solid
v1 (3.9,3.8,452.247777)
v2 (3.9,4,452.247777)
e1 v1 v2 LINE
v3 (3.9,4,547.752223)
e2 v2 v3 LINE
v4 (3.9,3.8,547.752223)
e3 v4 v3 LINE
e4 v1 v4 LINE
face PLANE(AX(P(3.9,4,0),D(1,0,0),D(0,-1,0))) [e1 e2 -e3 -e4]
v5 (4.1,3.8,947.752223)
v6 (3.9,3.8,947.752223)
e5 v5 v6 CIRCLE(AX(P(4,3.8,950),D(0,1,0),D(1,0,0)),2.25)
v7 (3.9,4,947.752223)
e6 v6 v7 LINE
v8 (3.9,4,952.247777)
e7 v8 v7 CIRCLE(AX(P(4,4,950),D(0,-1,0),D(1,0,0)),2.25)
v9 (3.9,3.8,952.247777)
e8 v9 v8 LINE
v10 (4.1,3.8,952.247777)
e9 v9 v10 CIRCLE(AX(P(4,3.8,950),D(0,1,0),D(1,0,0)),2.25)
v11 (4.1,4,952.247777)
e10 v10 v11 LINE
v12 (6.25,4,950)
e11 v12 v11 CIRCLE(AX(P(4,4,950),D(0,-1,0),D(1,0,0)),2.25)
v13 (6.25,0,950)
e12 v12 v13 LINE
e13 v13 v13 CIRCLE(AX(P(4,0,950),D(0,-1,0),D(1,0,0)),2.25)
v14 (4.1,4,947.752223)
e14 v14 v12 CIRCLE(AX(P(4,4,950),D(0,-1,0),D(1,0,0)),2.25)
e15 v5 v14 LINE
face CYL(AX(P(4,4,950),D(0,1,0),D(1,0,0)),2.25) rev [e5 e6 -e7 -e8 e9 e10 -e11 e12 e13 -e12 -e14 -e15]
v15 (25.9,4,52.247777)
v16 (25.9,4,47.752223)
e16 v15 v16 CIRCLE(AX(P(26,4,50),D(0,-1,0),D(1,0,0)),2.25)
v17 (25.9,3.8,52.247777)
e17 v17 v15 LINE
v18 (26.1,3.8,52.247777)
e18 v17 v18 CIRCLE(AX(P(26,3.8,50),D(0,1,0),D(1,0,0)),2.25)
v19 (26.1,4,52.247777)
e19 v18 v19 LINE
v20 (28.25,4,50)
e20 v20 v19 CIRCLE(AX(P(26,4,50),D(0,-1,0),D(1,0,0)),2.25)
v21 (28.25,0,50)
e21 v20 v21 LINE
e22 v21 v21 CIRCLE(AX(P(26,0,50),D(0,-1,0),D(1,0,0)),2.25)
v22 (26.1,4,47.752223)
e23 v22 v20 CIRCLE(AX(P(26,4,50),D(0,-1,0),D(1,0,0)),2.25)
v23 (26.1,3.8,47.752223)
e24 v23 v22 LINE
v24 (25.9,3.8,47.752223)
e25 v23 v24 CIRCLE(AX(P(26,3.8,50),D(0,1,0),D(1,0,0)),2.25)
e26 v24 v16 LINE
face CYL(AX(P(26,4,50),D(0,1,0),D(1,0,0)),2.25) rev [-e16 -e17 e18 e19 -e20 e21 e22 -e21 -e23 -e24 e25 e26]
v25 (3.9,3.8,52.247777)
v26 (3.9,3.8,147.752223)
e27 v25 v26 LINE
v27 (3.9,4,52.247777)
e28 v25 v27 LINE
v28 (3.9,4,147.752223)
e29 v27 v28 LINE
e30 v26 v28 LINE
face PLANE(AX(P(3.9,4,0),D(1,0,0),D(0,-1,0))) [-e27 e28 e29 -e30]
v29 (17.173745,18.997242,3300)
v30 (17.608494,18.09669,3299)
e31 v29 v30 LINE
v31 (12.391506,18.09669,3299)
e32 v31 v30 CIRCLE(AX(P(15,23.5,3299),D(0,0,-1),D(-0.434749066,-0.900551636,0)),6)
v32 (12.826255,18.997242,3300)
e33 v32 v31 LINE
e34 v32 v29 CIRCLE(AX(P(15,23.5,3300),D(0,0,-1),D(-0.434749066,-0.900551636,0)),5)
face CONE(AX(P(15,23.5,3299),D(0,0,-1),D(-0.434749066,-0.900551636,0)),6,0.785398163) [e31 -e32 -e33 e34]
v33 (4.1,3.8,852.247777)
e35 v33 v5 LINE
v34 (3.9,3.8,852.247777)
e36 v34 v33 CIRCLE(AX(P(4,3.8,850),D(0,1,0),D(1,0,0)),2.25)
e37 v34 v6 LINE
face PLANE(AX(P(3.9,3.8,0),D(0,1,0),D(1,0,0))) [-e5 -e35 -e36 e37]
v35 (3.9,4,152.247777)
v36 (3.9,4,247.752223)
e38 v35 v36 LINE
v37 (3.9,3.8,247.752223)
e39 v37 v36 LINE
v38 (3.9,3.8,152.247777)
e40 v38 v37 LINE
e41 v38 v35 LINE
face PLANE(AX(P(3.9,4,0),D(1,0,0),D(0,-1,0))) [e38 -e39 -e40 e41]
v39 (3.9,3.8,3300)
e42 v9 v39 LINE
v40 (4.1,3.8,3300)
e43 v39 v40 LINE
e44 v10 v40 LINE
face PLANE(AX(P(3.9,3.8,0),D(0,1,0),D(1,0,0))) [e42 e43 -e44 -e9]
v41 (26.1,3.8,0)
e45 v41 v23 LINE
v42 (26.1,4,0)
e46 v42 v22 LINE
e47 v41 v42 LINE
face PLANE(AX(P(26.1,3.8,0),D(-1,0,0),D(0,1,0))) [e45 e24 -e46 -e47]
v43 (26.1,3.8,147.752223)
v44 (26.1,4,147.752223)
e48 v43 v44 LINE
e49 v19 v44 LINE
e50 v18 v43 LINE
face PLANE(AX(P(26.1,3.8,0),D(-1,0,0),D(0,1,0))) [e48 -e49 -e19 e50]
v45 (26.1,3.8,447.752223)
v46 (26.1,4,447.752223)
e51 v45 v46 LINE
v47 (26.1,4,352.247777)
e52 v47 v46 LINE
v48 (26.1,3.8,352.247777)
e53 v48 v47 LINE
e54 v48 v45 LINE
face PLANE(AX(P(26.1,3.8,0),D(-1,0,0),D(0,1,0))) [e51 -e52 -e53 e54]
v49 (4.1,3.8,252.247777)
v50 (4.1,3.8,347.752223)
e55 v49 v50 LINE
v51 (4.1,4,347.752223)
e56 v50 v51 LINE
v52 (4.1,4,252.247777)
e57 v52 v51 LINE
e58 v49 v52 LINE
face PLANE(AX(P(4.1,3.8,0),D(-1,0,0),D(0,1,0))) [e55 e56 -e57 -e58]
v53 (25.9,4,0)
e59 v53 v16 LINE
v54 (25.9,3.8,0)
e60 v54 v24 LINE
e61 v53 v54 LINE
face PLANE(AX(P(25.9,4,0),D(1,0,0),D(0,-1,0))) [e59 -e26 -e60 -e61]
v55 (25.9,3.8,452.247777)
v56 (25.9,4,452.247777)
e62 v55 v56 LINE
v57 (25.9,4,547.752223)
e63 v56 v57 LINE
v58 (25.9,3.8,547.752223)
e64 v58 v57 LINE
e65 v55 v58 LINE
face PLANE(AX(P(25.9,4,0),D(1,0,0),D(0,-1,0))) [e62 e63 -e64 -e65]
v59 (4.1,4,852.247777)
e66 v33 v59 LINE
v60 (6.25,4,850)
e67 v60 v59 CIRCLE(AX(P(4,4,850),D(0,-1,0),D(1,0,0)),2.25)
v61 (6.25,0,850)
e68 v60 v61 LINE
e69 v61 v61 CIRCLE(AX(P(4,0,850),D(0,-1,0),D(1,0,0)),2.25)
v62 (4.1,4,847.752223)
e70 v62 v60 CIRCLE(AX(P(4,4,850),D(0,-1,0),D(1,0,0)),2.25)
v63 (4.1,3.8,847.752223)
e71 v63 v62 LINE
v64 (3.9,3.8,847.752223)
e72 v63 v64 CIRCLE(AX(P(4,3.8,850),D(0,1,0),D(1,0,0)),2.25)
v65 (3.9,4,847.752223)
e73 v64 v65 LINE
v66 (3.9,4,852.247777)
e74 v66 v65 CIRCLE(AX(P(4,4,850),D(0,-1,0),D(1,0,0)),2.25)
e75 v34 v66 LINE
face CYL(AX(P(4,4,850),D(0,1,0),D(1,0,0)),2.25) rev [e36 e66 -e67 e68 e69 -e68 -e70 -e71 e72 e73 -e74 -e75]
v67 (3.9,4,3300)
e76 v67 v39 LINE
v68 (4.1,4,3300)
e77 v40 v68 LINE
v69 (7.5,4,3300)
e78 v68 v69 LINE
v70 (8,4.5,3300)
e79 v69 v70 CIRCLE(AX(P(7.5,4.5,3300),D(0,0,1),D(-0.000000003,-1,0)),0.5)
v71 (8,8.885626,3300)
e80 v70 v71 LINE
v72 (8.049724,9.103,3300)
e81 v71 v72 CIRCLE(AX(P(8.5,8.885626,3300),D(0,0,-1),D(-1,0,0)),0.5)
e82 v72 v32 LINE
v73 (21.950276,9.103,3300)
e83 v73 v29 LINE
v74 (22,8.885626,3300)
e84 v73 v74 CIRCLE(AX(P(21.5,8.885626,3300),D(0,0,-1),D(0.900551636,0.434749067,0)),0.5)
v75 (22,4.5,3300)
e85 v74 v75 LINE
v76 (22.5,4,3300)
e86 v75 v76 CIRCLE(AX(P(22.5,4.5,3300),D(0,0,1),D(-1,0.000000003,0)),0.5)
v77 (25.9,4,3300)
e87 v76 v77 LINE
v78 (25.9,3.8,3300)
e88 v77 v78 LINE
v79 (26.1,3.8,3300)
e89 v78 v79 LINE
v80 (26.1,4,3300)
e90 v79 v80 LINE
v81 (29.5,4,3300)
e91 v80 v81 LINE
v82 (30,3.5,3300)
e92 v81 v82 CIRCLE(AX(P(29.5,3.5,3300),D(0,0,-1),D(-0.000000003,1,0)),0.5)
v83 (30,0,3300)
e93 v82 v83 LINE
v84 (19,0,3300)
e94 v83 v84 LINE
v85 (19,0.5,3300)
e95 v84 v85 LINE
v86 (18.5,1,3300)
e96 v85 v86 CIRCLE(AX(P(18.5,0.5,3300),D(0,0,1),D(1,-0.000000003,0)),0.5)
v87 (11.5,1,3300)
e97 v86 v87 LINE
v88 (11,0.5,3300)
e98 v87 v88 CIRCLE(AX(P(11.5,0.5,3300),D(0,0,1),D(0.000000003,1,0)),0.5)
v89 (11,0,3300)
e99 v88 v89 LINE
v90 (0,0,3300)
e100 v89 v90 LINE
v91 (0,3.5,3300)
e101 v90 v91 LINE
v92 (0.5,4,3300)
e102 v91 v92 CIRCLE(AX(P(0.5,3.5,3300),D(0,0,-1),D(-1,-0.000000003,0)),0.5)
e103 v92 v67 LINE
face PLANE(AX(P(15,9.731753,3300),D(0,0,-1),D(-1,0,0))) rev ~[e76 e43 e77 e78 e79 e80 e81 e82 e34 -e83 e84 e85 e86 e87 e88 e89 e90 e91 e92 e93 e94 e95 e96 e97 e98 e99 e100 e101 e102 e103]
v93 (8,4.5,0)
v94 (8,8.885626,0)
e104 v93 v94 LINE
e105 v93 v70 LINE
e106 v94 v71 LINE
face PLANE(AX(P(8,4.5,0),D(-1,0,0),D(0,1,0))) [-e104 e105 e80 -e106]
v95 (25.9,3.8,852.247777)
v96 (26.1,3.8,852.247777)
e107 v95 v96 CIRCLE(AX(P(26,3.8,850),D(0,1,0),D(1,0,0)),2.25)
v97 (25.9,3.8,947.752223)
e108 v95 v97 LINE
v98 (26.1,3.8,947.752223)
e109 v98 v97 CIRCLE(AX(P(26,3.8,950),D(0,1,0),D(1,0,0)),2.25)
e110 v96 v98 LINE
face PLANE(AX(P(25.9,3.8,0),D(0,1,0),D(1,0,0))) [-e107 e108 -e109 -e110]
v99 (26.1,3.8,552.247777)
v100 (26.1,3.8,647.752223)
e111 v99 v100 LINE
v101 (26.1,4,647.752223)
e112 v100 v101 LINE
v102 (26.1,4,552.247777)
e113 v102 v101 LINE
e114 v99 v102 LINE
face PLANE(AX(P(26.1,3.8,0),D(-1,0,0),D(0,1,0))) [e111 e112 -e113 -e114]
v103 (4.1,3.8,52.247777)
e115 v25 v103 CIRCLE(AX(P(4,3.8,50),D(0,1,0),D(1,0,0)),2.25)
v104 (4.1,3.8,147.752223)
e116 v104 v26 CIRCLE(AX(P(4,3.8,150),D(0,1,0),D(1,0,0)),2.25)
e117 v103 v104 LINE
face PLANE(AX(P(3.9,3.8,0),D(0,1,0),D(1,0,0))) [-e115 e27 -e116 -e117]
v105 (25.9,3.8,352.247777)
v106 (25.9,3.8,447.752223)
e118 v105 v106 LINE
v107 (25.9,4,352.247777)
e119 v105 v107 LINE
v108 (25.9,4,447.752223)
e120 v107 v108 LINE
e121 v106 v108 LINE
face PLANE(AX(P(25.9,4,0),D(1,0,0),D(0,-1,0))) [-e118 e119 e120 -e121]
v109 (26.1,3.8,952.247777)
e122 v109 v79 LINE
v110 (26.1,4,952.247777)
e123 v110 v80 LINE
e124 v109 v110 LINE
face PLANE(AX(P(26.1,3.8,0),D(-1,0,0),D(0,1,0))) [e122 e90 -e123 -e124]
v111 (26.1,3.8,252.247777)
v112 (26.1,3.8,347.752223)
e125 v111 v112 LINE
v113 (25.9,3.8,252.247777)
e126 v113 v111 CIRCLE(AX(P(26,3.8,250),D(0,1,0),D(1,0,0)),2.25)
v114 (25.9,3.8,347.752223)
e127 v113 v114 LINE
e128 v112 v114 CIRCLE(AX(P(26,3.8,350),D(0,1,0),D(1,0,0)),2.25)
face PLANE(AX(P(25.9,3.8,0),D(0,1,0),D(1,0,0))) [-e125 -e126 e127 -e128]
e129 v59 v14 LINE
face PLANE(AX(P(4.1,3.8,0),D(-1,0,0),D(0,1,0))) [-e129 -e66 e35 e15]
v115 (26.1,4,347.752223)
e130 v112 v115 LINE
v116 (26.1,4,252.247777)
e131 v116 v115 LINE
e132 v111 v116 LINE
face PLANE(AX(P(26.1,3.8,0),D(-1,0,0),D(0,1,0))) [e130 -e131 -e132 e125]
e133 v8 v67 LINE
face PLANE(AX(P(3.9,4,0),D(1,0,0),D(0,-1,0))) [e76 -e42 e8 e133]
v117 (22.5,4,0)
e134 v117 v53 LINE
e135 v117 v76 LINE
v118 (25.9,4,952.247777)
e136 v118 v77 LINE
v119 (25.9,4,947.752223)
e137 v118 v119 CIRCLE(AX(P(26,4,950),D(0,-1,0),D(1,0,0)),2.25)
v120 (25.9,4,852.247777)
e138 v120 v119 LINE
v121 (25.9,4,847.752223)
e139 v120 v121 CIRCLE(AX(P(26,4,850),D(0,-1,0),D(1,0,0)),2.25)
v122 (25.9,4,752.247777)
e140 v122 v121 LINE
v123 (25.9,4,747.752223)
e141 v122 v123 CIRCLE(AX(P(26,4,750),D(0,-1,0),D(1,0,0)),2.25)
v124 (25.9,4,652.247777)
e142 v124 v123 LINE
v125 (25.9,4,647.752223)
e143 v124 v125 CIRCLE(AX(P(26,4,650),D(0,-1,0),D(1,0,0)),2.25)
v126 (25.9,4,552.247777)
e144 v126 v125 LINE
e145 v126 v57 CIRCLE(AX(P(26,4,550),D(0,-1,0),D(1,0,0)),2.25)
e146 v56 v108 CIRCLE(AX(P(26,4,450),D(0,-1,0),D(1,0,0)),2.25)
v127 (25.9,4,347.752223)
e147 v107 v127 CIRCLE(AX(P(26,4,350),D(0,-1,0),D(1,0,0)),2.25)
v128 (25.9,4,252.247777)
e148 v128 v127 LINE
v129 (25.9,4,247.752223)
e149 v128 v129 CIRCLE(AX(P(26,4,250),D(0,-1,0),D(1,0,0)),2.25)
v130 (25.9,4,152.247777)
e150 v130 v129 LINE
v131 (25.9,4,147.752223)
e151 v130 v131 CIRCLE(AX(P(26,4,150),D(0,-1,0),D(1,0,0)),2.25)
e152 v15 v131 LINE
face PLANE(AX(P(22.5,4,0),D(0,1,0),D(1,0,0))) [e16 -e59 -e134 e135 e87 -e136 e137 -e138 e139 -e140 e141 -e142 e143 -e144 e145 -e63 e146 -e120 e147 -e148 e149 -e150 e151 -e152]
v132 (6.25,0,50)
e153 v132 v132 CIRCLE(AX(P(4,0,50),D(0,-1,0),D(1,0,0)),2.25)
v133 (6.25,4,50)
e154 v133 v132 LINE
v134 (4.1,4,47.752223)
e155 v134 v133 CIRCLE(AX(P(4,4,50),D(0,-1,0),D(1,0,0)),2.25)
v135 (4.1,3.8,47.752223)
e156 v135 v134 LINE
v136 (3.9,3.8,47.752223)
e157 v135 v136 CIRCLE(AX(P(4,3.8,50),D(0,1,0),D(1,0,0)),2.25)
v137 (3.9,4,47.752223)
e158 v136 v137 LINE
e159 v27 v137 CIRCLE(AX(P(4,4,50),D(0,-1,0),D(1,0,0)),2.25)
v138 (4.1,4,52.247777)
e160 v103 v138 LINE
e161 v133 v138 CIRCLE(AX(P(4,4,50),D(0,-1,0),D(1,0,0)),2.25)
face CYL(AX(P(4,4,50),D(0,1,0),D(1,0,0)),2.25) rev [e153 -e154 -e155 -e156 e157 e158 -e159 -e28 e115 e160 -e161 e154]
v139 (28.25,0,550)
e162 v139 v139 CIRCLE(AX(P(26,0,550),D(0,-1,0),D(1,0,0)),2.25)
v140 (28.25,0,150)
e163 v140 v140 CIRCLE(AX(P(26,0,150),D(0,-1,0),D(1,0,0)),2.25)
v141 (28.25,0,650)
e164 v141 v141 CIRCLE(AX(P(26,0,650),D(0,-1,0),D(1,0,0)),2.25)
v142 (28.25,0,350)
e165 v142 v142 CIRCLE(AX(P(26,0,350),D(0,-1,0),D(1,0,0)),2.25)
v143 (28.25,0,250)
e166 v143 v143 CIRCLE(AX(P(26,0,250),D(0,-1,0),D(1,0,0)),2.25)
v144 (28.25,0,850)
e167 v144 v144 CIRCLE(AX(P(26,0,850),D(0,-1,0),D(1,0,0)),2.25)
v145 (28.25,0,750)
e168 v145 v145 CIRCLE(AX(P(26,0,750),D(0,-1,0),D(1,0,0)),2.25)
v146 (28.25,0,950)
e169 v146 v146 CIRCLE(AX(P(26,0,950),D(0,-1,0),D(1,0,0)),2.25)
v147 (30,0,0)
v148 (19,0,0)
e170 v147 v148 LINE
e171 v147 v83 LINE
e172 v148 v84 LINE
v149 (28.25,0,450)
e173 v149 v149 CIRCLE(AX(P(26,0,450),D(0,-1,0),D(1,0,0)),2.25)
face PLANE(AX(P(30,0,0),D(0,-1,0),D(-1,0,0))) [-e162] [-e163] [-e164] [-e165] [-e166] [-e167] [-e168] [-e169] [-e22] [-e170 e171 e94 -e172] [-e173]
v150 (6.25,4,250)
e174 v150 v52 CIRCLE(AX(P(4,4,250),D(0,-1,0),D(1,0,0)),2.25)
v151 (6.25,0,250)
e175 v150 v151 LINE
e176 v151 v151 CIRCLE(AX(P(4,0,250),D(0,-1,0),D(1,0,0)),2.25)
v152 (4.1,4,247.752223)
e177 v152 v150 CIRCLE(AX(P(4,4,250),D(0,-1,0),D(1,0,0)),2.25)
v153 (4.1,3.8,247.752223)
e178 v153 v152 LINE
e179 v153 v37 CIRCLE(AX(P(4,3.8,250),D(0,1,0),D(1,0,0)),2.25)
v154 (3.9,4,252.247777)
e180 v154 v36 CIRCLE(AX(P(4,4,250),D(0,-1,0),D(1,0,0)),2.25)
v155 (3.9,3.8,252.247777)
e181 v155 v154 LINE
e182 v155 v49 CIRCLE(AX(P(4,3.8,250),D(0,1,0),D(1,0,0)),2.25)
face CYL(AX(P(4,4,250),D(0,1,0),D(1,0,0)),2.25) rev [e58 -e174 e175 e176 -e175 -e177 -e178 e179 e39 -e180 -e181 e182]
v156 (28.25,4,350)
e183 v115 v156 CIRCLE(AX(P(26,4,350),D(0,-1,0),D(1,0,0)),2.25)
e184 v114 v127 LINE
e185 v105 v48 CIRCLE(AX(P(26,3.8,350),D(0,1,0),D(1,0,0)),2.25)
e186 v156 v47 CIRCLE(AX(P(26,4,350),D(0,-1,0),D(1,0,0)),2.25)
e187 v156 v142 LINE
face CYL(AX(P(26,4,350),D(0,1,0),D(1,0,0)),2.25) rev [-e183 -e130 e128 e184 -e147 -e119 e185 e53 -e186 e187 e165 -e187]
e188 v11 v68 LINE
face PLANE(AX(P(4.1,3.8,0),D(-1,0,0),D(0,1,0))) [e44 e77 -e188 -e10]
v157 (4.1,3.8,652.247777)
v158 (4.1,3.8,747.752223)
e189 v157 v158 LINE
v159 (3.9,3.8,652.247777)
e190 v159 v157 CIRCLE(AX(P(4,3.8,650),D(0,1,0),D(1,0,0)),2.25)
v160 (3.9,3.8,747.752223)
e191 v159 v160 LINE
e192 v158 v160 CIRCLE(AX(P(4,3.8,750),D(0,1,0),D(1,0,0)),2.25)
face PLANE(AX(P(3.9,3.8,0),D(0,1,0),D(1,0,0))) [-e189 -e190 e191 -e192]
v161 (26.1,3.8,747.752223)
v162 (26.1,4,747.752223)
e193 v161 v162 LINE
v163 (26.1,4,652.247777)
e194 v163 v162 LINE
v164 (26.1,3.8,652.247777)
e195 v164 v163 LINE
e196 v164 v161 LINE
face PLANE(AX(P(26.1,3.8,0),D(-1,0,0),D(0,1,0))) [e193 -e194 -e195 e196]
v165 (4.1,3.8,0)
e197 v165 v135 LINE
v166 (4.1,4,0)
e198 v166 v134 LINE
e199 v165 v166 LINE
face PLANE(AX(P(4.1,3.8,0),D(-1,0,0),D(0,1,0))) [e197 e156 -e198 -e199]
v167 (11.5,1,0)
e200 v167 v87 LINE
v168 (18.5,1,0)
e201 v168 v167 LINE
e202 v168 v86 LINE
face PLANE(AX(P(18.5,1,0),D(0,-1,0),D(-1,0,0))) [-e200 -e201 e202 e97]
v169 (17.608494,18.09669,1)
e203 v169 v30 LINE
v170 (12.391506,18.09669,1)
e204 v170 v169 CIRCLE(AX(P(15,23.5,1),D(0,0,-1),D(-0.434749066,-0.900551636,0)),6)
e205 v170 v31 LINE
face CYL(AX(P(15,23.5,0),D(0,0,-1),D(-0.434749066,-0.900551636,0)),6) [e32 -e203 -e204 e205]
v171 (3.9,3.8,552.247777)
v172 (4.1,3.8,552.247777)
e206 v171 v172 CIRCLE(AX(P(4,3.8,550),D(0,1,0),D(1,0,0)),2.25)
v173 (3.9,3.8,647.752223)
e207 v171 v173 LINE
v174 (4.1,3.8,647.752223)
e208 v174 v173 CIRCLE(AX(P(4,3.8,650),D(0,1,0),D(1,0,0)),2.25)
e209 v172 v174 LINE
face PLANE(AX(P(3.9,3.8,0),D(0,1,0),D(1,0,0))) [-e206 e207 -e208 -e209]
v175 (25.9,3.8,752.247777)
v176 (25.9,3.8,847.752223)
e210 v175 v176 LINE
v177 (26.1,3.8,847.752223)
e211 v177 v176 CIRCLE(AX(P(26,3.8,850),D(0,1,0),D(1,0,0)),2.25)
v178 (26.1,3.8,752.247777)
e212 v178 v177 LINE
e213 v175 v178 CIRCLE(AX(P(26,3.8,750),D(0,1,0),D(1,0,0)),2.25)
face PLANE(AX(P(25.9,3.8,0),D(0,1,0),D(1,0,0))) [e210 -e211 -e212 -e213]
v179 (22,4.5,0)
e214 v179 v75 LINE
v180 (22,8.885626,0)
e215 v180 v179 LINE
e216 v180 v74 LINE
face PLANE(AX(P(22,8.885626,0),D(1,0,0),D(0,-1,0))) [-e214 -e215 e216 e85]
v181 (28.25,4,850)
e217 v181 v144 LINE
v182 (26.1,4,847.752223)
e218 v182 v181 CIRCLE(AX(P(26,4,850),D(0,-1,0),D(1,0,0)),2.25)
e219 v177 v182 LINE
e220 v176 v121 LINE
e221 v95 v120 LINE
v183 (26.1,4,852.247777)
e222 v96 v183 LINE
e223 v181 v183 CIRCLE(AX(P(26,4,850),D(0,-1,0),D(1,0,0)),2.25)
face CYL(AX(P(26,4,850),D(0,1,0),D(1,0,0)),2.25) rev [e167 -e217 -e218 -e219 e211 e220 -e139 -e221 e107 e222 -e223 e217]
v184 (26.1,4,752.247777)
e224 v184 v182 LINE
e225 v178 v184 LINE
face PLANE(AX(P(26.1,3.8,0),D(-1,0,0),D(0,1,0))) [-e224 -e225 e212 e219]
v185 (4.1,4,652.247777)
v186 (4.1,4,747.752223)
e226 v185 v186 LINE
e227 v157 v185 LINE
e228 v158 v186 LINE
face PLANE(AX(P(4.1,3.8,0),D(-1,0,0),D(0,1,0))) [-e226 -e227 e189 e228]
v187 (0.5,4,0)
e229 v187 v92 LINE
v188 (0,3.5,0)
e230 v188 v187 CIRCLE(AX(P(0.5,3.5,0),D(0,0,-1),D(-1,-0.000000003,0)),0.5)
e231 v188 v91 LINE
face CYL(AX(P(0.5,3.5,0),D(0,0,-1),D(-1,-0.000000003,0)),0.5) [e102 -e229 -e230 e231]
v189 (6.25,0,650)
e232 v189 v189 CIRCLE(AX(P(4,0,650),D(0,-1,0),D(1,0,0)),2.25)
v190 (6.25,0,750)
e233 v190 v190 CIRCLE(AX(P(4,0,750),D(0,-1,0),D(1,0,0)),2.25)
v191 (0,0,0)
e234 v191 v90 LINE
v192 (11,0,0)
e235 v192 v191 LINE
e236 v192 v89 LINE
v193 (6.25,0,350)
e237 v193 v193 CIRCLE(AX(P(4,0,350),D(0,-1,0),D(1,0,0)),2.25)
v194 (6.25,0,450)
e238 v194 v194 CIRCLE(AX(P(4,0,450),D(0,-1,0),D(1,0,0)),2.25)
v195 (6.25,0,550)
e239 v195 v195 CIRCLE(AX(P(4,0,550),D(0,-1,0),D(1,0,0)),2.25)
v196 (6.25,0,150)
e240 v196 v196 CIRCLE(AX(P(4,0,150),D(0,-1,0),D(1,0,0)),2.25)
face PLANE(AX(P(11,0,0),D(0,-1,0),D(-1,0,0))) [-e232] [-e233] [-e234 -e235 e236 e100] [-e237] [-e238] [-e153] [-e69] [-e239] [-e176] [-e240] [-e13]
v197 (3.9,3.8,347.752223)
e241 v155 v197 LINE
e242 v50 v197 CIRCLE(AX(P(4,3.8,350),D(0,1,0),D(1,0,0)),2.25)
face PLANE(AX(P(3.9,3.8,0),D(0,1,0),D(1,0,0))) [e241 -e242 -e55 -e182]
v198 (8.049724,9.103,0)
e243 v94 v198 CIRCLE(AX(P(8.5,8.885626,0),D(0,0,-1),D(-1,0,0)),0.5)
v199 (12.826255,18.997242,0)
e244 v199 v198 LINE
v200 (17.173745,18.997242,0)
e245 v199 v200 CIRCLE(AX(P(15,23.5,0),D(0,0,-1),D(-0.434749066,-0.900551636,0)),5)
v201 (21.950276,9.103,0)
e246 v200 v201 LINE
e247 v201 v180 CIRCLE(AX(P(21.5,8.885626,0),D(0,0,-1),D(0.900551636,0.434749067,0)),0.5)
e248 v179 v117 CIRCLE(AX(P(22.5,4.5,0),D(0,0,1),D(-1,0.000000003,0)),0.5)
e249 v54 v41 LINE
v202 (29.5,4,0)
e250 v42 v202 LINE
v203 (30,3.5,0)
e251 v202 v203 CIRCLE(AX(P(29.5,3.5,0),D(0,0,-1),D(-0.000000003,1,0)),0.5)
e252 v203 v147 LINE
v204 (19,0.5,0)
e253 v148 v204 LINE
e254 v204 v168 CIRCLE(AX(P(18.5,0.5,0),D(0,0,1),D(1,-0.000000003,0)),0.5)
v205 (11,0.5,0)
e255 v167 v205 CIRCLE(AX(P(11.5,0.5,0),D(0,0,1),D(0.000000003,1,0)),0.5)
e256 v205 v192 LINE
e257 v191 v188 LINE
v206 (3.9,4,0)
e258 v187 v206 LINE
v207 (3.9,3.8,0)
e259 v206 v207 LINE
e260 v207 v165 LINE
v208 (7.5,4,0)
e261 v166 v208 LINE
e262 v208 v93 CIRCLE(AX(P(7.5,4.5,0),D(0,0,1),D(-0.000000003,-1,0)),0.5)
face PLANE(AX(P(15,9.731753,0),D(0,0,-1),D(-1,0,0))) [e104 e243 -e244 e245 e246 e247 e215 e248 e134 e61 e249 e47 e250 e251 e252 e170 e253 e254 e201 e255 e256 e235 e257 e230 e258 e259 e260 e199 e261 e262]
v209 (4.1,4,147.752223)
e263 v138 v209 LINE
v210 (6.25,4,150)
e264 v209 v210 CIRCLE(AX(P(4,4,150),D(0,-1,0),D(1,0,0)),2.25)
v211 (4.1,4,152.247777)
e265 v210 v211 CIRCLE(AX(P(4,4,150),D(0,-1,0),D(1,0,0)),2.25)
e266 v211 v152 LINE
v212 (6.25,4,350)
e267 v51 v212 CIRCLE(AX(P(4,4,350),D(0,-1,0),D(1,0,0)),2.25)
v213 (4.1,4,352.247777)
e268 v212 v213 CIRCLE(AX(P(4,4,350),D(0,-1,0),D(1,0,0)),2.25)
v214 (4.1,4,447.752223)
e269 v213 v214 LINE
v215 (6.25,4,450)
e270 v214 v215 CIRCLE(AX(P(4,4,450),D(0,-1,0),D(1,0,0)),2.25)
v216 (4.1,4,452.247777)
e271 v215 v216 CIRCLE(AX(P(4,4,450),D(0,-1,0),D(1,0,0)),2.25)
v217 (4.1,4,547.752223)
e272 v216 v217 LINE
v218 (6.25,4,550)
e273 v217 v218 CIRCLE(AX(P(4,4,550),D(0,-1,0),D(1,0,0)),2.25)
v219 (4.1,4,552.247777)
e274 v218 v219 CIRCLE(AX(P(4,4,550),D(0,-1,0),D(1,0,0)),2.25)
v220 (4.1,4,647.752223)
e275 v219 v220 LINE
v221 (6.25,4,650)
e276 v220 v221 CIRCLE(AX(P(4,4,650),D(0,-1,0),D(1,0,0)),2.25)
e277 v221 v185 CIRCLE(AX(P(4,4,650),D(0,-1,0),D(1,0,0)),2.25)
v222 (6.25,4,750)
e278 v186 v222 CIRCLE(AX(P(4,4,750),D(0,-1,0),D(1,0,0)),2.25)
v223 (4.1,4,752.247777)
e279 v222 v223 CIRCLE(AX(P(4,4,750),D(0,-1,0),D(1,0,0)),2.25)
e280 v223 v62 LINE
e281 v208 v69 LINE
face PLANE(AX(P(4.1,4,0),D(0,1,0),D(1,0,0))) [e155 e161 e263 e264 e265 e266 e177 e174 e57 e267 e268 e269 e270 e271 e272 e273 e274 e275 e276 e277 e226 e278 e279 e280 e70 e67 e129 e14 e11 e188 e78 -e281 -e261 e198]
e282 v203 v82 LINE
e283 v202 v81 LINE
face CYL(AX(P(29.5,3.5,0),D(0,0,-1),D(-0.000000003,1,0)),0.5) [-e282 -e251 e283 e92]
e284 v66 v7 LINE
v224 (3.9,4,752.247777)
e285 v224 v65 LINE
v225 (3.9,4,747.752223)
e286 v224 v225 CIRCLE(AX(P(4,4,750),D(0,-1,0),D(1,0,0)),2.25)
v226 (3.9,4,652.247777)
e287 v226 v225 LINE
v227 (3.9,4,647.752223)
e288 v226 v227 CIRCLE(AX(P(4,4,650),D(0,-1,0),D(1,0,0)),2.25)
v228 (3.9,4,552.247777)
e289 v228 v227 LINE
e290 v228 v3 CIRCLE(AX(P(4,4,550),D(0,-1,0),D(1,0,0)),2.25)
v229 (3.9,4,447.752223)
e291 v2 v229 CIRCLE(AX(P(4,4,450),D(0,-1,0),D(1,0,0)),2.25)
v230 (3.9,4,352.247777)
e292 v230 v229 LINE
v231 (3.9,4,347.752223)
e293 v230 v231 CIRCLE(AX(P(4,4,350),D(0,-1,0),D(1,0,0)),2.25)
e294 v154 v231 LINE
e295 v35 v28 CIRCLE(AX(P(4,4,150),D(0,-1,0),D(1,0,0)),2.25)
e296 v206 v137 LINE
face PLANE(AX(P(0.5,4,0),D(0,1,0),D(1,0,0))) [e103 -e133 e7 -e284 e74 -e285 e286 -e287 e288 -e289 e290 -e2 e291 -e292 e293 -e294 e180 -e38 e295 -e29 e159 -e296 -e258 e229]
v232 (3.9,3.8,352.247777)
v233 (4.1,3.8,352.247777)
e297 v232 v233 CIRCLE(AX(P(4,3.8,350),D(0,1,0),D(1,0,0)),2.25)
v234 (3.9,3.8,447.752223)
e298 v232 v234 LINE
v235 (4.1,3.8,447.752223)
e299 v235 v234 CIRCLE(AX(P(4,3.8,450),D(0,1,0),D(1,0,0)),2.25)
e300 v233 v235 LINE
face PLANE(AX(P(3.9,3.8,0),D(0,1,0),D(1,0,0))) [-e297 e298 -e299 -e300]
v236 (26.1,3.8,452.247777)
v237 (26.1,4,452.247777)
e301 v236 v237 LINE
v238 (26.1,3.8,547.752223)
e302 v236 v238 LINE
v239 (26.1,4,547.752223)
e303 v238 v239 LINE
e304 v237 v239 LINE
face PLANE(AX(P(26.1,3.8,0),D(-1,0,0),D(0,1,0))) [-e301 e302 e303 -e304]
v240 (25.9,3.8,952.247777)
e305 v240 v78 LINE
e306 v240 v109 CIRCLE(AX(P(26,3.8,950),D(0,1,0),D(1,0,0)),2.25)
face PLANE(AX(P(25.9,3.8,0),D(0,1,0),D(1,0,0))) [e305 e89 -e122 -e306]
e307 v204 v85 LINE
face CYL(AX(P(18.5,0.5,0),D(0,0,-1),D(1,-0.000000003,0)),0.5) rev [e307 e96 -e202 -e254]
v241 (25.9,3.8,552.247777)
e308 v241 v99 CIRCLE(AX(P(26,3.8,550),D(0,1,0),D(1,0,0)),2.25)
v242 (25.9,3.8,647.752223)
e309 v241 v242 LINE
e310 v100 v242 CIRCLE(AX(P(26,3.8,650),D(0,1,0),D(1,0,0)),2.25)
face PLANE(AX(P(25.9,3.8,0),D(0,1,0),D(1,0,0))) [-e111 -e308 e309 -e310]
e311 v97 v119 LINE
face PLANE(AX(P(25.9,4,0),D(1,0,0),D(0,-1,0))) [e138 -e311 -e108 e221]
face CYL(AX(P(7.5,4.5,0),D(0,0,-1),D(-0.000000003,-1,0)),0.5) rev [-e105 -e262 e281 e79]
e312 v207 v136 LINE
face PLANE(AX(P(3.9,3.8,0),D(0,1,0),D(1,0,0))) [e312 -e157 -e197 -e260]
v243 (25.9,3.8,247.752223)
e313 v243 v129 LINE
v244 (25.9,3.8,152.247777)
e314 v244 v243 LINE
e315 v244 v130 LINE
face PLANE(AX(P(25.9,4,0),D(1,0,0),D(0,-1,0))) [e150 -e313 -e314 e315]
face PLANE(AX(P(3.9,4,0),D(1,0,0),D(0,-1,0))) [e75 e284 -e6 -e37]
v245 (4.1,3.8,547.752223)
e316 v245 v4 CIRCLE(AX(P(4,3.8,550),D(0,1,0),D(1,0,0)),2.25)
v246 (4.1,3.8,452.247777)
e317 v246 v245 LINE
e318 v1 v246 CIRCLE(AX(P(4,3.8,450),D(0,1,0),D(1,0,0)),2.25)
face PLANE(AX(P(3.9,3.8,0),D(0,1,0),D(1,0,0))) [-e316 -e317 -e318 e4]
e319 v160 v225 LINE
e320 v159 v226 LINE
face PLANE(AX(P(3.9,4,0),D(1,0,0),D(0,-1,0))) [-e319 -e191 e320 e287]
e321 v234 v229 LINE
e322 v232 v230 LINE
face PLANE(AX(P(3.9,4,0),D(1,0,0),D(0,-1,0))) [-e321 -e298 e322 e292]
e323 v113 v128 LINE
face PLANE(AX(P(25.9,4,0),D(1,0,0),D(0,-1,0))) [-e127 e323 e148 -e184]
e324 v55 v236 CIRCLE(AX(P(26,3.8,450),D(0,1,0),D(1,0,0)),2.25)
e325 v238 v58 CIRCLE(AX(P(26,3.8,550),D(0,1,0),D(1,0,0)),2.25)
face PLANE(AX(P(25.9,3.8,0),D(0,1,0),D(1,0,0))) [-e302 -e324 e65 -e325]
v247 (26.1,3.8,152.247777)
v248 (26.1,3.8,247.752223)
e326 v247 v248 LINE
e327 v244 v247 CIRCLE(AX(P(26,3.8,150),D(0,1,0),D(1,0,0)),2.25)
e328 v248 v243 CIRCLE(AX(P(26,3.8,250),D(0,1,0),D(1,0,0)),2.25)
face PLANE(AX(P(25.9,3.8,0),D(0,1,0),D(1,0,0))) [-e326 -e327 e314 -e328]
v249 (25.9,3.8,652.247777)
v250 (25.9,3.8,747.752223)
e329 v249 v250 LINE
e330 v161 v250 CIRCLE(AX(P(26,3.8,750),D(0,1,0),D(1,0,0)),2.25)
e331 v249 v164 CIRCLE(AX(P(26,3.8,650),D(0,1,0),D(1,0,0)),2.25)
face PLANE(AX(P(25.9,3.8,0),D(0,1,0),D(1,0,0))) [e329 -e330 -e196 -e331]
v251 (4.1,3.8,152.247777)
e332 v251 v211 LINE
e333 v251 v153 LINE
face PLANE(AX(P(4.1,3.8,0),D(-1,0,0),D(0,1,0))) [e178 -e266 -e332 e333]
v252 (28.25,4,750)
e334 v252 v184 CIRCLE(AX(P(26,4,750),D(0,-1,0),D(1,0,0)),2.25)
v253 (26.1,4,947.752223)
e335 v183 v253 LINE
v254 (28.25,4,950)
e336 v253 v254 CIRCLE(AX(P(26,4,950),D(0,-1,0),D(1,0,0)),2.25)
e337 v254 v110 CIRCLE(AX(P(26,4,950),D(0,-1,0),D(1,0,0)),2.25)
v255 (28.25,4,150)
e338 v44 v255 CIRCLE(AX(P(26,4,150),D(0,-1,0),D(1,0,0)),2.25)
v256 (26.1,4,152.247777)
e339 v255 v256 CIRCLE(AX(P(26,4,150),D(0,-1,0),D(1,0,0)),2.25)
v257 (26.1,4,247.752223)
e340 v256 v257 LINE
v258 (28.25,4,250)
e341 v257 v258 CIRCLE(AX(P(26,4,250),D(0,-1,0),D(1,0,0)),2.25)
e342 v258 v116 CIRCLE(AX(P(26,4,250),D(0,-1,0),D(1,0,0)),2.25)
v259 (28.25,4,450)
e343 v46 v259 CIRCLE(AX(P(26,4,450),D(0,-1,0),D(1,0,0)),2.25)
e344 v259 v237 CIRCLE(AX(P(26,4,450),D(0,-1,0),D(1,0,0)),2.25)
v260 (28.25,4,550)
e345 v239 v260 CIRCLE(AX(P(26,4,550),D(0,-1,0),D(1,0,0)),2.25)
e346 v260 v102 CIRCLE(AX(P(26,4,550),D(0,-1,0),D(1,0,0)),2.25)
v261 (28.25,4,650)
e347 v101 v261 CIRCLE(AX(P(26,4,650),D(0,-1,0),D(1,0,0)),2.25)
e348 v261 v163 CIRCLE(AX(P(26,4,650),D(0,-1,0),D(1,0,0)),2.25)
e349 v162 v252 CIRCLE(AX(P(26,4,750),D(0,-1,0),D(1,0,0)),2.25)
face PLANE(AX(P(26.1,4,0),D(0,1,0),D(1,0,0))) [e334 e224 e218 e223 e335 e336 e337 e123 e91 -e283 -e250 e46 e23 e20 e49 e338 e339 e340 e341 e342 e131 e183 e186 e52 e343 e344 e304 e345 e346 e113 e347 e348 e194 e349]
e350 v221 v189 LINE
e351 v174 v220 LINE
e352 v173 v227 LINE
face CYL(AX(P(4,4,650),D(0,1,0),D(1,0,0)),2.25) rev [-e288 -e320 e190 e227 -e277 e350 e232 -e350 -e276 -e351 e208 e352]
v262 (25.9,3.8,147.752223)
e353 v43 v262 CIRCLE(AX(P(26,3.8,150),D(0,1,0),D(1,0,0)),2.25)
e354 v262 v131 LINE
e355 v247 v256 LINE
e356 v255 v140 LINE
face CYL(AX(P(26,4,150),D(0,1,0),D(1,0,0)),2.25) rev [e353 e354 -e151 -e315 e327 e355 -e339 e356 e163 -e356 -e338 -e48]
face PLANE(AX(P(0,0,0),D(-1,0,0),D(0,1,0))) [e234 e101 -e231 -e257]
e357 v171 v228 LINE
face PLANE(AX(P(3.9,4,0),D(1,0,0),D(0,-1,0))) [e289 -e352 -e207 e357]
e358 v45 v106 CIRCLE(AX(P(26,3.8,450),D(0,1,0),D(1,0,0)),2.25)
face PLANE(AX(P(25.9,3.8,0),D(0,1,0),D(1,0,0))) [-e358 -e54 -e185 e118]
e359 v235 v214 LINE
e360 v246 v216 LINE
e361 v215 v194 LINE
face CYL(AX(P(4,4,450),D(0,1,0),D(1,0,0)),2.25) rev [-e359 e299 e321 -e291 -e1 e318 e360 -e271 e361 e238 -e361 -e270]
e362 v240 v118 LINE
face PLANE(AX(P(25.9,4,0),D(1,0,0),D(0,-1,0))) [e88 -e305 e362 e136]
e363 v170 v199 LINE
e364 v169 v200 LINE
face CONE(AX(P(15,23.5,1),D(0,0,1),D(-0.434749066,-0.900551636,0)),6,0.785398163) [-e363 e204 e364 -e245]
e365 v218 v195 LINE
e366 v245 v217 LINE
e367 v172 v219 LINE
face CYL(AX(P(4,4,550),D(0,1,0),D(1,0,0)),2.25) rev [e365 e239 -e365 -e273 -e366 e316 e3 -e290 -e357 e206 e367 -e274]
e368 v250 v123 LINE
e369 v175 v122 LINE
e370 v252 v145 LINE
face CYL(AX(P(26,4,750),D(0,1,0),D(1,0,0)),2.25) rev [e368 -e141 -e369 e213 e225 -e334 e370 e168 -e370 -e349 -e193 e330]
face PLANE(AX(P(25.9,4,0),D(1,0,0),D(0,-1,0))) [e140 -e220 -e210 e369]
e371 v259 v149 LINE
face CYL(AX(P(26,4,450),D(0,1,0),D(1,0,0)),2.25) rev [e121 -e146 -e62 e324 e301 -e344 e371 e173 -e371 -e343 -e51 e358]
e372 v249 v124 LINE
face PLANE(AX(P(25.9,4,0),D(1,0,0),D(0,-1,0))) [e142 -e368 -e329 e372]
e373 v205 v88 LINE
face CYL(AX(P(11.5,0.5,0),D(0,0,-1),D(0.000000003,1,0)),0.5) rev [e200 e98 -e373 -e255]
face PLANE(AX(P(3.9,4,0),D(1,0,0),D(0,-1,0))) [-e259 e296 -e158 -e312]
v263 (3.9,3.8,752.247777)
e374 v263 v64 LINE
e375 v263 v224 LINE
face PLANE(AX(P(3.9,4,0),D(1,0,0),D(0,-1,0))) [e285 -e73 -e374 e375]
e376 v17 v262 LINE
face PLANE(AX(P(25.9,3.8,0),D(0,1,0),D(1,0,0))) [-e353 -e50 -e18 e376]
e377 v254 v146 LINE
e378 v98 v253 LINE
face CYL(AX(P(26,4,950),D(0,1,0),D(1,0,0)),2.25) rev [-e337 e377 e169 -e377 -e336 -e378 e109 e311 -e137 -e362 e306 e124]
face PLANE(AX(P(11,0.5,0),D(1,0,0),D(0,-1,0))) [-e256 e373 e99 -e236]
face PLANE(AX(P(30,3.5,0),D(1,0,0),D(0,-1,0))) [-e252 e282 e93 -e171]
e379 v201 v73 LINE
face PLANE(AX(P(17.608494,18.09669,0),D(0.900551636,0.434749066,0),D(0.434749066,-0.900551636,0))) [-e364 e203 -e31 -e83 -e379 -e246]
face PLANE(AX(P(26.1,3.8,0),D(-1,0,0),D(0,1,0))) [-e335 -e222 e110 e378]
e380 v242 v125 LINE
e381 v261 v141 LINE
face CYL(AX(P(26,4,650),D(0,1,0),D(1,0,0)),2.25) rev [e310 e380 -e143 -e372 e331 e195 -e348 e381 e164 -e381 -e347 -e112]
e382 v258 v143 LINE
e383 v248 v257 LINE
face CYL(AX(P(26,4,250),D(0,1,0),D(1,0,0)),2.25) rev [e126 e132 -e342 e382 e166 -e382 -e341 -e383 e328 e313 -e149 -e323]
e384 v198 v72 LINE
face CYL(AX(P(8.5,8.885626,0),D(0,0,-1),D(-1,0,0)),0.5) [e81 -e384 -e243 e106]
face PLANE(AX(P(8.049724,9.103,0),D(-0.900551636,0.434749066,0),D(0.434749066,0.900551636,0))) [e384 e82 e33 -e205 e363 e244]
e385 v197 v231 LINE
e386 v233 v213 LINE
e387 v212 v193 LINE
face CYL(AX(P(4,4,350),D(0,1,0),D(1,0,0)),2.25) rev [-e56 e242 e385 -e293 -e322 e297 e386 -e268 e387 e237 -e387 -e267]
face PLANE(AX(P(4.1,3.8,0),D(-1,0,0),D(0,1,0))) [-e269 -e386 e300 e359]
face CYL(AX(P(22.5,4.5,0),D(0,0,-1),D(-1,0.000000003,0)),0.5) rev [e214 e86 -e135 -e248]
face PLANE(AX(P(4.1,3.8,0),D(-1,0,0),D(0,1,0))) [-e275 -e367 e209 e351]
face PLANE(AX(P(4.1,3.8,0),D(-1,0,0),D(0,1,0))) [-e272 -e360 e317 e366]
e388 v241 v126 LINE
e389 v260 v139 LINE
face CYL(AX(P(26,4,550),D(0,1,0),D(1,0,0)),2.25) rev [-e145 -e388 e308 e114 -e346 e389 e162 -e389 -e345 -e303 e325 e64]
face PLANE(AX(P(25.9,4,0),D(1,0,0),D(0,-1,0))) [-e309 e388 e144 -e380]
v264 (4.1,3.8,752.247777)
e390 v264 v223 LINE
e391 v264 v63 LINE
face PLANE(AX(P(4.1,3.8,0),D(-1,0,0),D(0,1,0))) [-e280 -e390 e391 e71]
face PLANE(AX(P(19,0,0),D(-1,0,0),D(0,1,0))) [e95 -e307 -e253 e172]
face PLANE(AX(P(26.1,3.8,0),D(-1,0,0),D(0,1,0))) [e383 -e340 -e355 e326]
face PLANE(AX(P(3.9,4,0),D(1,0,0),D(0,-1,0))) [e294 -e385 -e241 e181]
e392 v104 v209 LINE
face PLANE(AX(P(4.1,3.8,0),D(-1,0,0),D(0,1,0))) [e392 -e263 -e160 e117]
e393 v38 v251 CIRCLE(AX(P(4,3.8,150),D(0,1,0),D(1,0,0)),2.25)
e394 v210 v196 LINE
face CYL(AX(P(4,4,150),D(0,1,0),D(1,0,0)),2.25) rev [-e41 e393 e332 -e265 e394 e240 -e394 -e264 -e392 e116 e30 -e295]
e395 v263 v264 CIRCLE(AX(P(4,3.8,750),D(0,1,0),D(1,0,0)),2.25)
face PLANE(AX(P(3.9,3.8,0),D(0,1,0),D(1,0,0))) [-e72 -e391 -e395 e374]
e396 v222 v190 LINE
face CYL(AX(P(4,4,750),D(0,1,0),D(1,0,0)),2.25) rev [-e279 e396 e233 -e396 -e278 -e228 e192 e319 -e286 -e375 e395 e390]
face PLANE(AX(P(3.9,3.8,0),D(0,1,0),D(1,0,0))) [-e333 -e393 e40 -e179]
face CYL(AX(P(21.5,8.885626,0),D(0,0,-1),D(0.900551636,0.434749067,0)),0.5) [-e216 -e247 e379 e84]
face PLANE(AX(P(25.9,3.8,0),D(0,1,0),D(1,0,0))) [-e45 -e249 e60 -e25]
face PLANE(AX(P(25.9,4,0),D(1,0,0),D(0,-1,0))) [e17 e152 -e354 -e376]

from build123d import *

# Parameters (mm, degrees)
BOSS_EXTRU_1_DEPTH         = 3300
CHANFREIN5_SIZE            = 1
CHANFREIN6_SIZE            = 1
ENL_V_START                = -4
ESQUISSE2_R                = 2.25
ENL_V_MAT_EXTRU_1_DEPTH    = 4
R_P_TITION_LIN_AIRE1_COUNT = 9
R_P_TITION_LIN_AIRE1_PITCH = 100


with BuildPart() as part:
    # Esquisse1 → Boss.-Extru.1 (new body)
    with BuildSketch(Plane.XY):
        with BuildLine():
            Line((0, 0), (0, 3.5))
            ThreePointArc((0, 3.5), (0.146446609, 3.853553391), (0.5, 4))
            Line((0.5, 4), (3.9, 4))
            Line((3.9, 4), (3.9, 3.8))
            Line((3.9, 3.8), (4.1, 3.8))
            Line((4.1, 3.8), (4.1, 4))
            Line((4.1, 4), (7.5, 4))
            ThreePointArc((7.5, 4), (7.853553391, 4.146446609), (8, 4.5))
            Line((8, 4.5), (8, 8.885625558))
            ThreePointArc((8, 8.885625558), (8.012589542, 8.997120156), (8.049724182, 9.103000091))
            Line((8.049724182, 9.103000091), (12.391505605, 18.096690182))
            ThreePointArc((12.391505605, 18.096690182), (15, 29.5), (17.608494395, 18.096690182))
            Line((17.608494395, 18.096690182), (21.950275818, 9.103000091))
            ThreePointArc((21.950275818, 9.103000091), (21.987410458, 8.997120156), (22, 8.885625558))
            Line((22, 8.885625558), (22, 4.5))
            ThreePointArc((22, 4.5), (22.146446609, 4.146446609), (22.5, 4))
            Line((22.5, 4), (25.9, 4))
            Line((25.9, 4), (25.9, 3.8))
            Line((25.9, 3.8), (26.1, 3.8))
            Line((26.1, 3.8), (26.1, 4))
            Line((26.1, 4), (29.5, 4))
            ThreePointArc((29.5, 4), (29.853553391, 3.853553391), (30, 3.5))
            Line((30, 3.5), (30, 0))
            Line((30, 0), (19, 0))
            Line((19, 0), (19, 0.5))
            ThreePointArc((19, 0.5), (18.853553391, 0.853553391), (18.5, 1))
            Line((18.5, 1), (11.5, 1))
            ThreePointArc((11.5, 1), (11.146446609, 0.853553391), (11, 0.5))
            Line((11, 0.5), (11, 0))
            Line((11, 0), (0, 0))
        make_face()
    extrude(amount=BOSS_EXTRU_1_DEPTH)

    # Chanfrein5
    chanfrein5_edges = [part.edges().sort_by_distance(p)[0] for p in [
        (15, 29.5, 0),
    ]]
    chamfer(chanfrein5_edges, length=CHANFREIN5_SIZE)

    # Chanfrein6
    chanfrein6_edges = [part.edges().sort_by_distance(p)[0] for p in [
        (15, 29.5, 3300),
    ]]
    chamfer(chanfrein6_edges, length=CHANFREIN6_SIZE)

    # Esquisse2 → Enlèv. mat.-Extru.1 (cut)
    with BuildSketch(Plane.XZ.offset(ENL_V_START)):
        with Locations((4, 850)):
            Circle(ESQUISSE2_R)
        with Locations((26, 850)):
            Circle(ESQUISSE2_R)
        with Locations((26, 950)):
            Circle(ESQUISSE2_R)
        with Locations((4, 950)):
            Circle(ESQUISSE2_R)
    enl_v_mat_extru_1 = extrude(amount=ENL_V_MAT_EXTRU_1_DEPTH, mode=Mode.SUBTRACT)

    # Répétition linéaire1: Enlèv. mat.-Extru.1 ×9
    with Locations(*[(0, 0, -i * R_P_TITION_LIN_AIRE1_PITCH) for i in range(1, R_P_TITION_LIN_AIRE1_COUNT)]):
        add(enl_v_mat_extru_1, mode=Mode.SUBTRACT)


solid = part.part
